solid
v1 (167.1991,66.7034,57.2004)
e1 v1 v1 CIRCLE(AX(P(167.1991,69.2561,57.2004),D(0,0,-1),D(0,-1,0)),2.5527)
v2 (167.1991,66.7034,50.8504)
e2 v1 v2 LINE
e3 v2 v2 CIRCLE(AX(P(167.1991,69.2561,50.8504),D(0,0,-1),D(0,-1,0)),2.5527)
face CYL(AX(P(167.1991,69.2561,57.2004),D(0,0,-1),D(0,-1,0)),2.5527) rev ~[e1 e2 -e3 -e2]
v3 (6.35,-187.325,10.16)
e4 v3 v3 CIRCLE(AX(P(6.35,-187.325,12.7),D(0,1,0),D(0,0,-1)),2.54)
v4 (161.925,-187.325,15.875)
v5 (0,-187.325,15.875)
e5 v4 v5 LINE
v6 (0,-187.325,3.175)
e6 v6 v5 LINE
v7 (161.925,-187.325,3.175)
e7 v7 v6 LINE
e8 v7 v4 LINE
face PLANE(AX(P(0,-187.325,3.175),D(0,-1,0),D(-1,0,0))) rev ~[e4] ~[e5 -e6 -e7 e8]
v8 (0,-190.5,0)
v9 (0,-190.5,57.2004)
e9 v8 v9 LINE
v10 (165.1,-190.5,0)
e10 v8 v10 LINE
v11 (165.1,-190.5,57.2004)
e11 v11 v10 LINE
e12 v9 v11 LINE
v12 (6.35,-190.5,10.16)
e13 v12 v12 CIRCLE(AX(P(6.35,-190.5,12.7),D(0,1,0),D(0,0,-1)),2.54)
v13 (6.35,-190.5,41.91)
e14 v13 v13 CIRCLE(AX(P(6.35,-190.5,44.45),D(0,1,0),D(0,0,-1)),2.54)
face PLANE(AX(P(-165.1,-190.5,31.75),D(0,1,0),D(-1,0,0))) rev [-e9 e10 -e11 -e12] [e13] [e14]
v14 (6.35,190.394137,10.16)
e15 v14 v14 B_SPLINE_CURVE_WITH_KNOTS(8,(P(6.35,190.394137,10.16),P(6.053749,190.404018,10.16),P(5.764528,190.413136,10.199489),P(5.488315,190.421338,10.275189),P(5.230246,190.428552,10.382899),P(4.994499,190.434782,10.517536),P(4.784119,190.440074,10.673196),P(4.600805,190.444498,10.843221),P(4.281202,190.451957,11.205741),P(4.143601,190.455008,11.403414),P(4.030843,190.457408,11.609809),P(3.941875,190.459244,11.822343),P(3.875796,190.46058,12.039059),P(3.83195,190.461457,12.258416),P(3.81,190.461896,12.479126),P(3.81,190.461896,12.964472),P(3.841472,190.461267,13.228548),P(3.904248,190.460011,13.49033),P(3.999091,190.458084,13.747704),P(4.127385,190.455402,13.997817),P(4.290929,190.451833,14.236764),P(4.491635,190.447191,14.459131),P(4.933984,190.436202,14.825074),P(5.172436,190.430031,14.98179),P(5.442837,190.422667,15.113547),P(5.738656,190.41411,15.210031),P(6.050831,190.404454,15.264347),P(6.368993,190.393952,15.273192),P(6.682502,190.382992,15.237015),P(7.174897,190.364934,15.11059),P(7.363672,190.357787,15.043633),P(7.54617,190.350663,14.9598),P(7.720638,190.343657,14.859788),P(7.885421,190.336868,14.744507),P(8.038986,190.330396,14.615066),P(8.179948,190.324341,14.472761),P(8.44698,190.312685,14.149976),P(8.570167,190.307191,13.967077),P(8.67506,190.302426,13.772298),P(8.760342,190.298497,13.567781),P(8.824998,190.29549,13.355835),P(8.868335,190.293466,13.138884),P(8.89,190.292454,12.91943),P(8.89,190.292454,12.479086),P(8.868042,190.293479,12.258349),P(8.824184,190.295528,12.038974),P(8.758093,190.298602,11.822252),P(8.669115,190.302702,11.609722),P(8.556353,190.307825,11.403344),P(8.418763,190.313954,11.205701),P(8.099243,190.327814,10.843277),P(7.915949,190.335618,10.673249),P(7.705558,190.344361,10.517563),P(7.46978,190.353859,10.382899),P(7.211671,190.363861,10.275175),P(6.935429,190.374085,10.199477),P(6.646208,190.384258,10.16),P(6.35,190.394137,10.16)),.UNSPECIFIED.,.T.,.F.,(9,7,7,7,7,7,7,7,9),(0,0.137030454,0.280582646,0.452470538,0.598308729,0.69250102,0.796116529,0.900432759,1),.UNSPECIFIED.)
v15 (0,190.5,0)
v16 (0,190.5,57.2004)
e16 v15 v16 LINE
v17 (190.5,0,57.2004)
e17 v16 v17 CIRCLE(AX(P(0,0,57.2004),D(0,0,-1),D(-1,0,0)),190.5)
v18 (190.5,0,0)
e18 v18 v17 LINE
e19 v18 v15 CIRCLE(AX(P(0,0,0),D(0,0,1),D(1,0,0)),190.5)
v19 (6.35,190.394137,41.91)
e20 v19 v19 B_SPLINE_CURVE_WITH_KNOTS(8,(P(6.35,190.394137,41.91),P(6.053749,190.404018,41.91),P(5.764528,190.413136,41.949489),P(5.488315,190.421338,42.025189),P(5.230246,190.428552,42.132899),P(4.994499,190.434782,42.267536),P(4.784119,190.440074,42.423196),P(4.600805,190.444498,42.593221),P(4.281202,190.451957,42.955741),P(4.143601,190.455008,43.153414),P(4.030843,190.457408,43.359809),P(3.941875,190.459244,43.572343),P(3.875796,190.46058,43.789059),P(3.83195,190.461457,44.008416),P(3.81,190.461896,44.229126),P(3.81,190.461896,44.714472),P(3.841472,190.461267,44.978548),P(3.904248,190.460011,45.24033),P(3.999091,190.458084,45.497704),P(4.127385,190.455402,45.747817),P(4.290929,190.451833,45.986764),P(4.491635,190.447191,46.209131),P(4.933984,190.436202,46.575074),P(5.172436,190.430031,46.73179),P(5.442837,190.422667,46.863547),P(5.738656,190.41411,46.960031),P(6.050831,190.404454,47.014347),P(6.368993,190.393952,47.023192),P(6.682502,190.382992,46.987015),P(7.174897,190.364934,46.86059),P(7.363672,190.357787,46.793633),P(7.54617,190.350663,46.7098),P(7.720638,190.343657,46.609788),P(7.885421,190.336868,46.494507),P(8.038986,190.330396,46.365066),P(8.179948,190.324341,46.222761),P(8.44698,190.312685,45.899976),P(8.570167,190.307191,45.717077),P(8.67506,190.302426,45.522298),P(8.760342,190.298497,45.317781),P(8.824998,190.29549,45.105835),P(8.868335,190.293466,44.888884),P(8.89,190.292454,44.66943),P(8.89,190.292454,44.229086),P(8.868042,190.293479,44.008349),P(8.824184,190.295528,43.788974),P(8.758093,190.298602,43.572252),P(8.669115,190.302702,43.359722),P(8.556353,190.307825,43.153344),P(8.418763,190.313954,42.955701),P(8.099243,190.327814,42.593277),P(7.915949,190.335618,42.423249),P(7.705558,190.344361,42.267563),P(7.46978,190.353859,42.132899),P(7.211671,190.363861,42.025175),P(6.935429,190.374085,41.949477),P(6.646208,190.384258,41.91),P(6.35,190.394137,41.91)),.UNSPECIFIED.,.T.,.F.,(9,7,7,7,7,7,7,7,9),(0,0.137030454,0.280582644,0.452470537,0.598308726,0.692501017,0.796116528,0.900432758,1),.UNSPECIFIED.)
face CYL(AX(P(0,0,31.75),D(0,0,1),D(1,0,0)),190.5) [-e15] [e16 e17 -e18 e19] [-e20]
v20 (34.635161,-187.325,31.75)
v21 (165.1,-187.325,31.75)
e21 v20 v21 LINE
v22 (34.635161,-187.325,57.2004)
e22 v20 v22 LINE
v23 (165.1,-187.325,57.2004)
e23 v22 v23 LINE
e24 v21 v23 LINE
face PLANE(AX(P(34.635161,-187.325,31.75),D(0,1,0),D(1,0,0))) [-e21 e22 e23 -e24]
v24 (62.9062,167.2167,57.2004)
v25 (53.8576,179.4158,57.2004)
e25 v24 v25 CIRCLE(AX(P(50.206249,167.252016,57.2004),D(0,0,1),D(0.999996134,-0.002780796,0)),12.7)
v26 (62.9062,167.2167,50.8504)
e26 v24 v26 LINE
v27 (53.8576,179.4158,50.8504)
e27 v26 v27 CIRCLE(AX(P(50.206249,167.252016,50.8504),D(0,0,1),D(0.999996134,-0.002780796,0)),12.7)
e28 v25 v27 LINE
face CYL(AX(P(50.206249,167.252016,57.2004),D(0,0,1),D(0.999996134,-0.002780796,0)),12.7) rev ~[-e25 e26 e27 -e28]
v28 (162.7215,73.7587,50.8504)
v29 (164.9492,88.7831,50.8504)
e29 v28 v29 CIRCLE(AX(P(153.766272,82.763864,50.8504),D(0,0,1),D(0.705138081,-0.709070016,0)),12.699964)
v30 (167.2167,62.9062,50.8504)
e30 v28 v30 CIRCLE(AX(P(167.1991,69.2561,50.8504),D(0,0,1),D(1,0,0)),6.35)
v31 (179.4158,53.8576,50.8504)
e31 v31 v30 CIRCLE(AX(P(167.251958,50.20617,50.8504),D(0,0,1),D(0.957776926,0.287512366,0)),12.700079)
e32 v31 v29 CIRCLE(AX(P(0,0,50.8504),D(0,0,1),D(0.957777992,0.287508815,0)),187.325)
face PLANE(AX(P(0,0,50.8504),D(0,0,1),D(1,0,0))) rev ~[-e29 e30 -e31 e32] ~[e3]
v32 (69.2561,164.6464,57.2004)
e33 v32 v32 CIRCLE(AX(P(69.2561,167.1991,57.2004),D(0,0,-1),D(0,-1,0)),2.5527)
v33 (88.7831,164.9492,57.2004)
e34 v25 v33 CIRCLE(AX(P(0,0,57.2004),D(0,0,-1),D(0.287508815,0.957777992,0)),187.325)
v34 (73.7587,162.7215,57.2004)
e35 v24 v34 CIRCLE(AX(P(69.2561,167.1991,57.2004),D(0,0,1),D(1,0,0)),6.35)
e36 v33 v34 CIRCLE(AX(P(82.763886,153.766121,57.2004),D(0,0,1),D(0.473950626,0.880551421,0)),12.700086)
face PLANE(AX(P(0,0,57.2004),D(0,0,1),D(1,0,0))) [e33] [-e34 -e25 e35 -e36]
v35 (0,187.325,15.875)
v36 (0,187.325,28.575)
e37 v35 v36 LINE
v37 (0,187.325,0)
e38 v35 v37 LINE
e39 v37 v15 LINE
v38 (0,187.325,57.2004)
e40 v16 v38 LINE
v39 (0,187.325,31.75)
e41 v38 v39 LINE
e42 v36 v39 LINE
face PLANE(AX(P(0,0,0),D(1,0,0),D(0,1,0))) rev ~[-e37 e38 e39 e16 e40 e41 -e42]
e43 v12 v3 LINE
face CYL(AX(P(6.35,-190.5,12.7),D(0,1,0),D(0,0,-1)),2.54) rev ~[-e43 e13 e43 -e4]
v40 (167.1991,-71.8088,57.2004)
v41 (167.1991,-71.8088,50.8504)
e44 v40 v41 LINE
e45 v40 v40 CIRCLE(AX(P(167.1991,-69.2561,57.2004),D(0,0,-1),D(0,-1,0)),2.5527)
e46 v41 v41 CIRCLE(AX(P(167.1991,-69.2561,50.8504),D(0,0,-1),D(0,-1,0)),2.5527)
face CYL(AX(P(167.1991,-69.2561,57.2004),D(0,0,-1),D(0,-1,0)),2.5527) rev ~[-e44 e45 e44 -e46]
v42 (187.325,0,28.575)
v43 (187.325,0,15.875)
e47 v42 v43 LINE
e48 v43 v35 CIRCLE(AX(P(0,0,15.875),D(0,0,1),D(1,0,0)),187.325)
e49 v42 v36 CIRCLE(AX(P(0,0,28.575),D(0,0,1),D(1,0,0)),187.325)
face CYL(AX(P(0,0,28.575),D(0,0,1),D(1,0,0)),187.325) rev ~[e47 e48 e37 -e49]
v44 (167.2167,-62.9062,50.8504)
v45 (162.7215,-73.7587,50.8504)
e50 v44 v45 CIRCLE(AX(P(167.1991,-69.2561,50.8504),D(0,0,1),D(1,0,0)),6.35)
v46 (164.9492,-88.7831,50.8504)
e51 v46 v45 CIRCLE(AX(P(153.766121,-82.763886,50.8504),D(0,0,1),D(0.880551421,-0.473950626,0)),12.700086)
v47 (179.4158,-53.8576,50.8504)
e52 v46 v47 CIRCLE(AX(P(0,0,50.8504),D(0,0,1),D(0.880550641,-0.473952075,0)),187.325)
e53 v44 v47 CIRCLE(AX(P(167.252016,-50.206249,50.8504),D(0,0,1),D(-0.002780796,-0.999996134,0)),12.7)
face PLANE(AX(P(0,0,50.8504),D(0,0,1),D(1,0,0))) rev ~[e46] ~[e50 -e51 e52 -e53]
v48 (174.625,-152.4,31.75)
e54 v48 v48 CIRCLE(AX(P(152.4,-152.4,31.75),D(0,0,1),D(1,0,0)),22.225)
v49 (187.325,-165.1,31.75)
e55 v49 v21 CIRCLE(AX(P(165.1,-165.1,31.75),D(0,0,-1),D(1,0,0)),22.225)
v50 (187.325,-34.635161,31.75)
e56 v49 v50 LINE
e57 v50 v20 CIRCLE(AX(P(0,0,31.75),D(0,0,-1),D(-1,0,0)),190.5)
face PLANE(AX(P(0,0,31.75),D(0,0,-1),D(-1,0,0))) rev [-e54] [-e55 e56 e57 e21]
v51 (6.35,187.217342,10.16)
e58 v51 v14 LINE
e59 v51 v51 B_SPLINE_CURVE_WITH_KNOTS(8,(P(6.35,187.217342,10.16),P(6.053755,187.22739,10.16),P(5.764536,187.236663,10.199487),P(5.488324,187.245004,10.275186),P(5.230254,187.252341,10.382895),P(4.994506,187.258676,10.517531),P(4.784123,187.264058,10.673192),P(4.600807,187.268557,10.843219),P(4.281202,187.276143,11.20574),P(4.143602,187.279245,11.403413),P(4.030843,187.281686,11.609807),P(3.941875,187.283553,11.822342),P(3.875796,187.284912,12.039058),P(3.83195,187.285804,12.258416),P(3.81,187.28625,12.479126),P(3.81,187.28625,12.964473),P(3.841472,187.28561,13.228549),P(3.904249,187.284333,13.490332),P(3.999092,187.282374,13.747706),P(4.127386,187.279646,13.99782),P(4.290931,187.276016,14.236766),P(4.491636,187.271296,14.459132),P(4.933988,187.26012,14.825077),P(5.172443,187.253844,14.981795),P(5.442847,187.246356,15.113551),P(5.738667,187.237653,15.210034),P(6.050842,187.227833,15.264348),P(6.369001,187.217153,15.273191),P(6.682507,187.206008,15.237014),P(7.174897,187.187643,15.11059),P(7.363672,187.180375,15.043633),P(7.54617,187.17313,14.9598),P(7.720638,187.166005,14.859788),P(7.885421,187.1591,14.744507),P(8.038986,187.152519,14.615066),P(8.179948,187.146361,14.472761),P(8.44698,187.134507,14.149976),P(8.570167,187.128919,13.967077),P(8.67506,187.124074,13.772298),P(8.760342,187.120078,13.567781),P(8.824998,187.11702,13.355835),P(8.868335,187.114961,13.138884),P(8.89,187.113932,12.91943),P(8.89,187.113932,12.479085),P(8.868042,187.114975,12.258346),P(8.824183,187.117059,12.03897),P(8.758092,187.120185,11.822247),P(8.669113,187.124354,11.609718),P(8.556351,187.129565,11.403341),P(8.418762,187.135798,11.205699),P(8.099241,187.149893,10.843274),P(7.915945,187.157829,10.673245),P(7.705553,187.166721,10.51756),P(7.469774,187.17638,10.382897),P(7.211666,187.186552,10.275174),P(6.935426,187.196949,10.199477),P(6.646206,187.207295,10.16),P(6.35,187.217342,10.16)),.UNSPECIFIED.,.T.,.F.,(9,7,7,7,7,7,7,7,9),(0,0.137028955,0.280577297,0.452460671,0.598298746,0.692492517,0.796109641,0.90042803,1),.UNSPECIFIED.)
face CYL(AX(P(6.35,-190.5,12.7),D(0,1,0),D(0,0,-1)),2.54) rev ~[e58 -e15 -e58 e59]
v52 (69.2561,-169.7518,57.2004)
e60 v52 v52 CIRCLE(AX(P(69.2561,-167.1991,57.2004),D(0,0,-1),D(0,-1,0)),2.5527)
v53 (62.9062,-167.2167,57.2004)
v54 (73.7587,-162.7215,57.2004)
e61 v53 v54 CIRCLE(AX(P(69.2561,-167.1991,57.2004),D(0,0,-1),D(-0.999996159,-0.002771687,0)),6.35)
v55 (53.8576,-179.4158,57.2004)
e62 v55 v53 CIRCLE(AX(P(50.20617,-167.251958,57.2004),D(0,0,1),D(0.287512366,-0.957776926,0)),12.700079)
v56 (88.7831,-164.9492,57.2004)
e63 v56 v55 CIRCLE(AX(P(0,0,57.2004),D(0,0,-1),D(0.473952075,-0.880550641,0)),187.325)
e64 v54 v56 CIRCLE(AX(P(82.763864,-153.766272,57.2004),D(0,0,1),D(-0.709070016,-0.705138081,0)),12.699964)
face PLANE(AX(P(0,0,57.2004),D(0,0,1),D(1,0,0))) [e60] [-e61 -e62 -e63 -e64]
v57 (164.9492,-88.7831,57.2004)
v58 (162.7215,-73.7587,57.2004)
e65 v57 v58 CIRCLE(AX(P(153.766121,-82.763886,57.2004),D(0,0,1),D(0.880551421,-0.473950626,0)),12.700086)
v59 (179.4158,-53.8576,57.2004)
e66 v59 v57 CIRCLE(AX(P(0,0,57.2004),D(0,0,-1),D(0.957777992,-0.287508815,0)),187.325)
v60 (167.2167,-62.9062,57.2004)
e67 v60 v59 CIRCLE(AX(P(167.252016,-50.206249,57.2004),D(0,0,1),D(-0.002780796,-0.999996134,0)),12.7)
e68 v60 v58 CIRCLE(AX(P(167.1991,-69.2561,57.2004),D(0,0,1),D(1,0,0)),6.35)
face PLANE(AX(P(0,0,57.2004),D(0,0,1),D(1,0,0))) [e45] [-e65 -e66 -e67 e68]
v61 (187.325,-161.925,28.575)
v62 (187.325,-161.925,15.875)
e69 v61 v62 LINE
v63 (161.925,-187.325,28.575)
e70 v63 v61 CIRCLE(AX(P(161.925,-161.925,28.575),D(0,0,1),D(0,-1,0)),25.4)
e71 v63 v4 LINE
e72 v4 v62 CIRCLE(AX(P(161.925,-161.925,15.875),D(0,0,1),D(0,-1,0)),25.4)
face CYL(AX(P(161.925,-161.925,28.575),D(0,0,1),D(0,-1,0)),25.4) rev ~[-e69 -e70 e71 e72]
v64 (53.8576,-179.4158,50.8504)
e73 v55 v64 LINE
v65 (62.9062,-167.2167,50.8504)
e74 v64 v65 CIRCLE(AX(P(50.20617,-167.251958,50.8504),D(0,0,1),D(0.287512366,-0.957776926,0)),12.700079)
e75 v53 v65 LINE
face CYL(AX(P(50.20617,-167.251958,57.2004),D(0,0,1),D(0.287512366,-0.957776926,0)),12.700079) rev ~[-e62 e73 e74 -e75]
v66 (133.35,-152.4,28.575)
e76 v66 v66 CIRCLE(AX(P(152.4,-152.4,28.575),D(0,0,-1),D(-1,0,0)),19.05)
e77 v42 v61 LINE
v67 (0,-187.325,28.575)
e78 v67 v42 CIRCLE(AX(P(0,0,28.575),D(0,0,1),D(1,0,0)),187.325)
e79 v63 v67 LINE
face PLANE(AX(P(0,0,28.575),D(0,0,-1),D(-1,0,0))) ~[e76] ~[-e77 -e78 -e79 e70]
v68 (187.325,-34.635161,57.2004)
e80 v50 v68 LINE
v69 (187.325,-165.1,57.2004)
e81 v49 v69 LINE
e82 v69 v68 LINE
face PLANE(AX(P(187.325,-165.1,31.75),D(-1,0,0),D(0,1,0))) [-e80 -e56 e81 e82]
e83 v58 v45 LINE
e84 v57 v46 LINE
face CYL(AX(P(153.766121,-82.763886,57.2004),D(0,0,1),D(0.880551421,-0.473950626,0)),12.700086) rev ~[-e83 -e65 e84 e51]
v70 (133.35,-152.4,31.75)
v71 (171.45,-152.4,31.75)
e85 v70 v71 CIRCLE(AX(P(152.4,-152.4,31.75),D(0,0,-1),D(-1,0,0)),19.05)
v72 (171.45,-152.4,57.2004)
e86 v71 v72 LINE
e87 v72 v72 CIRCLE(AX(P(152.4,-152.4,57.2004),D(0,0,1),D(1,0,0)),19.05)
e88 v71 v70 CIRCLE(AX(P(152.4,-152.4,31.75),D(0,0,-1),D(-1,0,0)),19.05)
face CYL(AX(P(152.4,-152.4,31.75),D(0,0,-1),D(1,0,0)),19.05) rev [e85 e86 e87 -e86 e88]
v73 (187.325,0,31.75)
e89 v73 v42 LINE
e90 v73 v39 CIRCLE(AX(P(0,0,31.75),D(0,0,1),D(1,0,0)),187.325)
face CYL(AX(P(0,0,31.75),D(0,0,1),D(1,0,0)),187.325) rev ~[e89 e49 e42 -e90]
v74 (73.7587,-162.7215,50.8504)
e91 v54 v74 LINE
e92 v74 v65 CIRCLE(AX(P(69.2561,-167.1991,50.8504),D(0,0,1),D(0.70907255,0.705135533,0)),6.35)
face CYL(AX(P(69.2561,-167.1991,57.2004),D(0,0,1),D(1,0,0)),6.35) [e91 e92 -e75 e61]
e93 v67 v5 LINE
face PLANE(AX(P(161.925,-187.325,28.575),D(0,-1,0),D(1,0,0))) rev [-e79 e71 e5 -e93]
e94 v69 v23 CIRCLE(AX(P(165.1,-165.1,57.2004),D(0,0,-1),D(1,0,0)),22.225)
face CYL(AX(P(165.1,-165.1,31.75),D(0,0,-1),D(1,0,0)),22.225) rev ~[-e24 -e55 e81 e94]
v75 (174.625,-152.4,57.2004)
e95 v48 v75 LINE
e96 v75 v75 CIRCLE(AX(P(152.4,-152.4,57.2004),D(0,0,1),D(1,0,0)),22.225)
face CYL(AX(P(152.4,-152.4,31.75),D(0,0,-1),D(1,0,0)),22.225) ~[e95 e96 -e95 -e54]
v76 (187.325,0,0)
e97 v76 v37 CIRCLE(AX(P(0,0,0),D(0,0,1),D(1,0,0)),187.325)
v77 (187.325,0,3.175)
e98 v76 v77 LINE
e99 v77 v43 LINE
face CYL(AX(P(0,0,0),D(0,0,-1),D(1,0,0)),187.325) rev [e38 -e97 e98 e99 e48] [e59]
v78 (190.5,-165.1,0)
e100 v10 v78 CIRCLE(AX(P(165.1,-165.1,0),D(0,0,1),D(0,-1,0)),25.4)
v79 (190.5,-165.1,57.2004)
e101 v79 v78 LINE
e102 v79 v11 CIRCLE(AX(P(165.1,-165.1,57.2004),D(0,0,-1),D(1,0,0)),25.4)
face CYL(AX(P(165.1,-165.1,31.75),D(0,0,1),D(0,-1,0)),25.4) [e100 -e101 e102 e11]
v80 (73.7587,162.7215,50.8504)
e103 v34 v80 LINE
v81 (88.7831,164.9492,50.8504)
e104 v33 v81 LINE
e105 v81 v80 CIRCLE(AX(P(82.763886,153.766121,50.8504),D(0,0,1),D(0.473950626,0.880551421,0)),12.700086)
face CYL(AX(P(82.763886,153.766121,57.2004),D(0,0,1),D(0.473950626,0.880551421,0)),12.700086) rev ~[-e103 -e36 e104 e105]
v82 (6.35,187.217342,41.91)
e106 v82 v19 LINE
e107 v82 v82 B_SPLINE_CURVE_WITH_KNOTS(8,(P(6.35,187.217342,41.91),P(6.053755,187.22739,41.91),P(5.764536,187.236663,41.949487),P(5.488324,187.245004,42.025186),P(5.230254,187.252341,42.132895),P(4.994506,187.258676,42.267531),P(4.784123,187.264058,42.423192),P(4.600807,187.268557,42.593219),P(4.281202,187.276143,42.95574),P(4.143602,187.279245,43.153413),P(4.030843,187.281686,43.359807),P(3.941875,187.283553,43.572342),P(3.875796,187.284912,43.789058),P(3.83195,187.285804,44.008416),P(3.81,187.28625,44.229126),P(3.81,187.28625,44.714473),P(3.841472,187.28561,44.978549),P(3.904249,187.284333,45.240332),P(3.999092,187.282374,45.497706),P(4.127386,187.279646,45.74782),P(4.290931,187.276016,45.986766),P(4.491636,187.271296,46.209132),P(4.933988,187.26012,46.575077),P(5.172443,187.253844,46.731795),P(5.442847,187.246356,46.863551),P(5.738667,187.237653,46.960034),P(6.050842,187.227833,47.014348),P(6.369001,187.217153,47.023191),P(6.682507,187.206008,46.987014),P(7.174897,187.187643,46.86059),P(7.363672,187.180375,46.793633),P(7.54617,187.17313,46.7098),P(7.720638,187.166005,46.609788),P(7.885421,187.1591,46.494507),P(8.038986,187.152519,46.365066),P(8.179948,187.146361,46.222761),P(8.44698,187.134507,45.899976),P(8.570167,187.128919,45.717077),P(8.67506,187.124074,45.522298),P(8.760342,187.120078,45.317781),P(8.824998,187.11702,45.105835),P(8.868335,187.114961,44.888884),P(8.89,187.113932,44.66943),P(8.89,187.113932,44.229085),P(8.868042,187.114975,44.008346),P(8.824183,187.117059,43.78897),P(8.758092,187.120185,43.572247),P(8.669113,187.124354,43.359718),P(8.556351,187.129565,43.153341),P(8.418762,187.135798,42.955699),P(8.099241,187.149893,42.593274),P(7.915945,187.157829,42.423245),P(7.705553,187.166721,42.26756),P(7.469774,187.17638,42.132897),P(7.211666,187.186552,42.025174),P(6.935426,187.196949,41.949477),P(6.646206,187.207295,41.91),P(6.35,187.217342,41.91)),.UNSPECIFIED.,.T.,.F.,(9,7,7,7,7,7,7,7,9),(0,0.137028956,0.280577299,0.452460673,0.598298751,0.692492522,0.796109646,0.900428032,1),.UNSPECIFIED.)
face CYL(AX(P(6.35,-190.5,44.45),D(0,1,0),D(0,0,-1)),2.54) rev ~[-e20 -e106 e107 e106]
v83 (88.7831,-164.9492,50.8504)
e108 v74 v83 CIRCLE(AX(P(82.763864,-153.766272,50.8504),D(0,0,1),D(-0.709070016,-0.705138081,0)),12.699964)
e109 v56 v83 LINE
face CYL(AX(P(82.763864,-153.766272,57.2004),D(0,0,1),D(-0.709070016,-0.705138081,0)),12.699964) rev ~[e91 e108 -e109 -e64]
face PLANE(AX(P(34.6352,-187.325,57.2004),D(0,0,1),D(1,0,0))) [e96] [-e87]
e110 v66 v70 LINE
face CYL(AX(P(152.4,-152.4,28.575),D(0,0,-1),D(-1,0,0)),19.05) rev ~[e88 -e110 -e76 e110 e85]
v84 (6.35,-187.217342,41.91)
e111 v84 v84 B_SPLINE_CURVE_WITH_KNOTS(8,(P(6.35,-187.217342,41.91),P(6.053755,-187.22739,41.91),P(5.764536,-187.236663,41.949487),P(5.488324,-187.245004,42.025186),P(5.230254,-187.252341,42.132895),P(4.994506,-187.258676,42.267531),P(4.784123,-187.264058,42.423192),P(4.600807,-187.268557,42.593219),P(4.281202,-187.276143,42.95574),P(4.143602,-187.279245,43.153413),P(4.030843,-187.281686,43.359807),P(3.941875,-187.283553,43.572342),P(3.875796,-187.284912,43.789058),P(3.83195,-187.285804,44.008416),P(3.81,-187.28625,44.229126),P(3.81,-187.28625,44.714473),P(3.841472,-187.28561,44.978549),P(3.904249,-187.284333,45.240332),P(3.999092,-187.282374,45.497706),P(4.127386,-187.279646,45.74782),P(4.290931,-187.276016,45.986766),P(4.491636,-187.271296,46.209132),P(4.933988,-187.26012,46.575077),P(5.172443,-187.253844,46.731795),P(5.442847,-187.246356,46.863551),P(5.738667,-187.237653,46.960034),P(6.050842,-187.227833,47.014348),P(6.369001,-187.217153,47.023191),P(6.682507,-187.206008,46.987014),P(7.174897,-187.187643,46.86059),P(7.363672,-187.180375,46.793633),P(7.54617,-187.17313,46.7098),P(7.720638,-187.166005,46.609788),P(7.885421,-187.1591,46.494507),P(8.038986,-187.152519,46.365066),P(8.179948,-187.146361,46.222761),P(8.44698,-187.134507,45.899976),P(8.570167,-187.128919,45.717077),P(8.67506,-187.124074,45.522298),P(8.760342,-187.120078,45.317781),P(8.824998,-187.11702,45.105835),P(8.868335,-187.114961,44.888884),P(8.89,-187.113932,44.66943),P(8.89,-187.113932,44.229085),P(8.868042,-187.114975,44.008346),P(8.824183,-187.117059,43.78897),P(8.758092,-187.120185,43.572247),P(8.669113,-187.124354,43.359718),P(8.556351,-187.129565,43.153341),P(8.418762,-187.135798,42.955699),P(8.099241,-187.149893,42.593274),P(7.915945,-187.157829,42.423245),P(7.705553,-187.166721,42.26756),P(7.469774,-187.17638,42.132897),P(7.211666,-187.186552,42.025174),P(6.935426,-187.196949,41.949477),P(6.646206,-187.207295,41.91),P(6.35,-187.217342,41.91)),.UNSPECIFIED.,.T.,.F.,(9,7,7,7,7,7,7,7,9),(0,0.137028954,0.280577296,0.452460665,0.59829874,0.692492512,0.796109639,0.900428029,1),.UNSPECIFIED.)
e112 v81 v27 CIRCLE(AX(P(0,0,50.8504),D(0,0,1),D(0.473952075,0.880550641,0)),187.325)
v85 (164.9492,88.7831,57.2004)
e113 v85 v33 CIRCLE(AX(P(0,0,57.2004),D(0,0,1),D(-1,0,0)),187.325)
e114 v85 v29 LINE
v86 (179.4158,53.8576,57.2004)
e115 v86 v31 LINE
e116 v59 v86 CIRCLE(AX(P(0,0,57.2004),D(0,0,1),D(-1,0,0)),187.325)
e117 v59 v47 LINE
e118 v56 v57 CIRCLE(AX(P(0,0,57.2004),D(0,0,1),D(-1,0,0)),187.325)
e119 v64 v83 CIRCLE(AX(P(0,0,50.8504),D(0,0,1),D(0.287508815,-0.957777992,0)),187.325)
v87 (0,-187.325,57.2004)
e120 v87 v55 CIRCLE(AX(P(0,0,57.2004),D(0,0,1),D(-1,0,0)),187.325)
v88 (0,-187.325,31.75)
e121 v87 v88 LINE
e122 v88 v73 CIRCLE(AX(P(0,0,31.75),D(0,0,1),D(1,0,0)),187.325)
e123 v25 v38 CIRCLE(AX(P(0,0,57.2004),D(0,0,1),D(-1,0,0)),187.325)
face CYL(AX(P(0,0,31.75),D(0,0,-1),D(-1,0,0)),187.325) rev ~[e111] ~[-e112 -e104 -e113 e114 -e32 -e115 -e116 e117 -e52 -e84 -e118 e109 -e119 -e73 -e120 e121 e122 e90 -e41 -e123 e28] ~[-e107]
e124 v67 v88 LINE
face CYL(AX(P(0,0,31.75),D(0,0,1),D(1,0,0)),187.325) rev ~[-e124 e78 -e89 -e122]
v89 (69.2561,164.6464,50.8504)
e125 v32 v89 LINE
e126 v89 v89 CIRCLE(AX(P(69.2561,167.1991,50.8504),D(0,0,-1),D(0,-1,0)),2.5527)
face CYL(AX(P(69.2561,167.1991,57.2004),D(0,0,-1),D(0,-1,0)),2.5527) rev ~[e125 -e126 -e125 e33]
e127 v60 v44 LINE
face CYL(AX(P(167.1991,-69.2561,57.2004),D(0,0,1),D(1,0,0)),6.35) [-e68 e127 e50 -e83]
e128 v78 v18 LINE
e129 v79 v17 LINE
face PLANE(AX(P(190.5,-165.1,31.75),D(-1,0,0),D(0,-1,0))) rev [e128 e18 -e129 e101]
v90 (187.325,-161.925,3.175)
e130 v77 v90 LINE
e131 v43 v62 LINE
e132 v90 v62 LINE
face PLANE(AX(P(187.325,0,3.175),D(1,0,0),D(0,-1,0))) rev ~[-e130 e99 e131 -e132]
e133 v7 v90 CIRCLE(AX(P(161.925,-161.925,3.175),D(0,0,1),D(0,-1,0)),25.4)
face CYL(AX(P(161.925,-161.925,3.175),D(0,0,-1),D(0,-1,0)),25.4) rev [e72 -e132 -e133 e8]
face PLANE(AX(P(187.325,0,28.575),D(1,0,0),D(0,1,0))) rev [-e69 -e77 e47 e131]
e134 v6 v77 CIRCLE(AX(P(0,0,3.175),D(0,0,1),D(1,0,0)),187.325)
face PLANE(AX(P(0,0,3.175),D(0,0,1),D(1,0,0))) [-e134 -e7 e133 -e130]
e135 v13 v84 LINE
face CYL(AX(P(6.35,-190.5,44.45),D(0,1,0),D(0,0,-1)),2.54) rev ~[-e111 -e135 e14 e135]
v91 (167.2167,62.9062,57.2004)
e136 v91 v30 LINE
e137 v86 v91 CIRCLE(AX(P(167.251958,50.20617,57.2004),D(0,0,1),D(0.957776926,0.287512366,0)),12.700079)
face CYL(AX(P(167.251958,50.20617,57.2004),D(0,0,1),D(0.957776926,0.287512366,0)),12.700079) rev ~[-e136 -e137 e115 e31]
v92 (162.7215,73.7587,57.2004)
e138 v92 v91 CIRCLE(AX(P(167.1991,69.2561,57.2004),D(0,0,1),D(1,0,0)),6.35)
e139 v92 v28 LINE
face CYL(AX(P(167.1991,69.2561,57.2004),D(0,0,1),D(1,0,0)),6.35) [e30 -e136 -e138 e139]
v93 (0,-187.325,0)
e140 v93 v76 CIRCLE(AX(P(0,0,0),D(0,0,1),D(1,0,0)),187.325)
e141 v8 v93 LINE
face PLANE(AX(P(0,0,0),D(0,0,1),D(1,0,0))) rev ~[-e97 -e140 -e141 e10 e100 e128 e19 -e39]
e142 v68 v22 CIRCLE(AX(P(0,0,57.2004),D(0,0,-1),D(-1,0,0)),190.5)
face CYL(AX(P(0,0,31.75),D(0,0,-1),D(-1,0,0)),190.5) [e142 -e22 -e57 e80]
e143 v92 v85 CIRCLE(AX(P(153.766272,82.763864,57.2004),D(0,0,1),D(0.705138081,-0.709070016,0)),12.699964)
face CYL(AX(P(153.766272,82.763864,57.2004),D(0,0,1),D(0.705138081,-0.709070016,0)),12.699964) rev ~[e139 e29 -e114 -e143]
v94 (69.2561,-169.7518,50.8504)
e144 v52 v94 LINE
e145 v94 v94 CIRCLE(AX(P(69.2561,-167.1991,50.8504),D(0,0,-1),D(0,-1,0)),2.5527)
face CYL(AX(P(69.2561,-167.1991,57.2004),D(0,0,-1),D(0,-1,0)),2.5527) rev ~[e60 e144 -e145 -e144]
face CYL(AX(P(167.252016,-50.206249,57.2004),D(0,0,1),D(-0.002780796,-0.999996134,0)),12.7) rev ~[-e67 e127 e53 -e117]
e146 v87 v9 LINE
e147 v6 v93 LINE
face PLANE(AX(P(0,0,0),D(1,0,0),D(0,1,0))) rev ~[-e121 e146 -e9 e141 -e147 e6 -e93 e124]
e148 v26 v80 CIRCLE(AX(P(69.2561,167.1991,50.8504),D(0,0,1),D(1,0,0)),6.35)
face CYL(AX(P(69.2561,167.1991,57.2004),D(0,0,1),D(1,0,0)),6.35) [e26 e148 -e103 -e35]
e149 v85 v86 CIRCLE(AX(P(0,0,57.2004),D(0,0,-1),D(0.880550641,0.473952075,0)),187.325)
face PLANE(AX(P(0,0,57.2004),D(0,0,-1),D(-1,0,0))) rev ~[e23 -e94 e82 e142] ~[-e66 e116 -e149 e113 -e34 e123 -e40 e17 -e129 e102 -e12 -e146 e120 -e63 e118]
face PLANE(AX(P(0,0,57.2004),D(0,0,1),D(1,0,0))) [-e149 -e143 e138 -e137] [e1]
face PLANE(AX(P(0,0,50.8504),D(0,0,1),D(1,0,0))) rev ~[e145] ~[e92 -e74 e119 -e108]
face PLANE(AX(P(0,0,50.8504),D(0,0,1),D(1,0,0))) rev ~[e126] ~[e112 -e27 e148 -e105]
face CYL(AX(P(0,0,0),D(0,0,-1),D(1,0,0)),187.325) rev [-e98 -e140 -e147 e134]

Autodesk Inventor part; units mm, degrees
ref_plane "YZ Plane" through (0, 0, 0) normal (1, 0, 0) x (0, 1, 0)
ref_plane "XZ Plane" through (0, 0, 0) normal (0, 1, 0) x (-1, 0, 0)
ref_plane "XY Plane" through (0, 0, 0) normal (0, 0, 1) x (1, 0, 0)
sketch "Sketch1" plane through (0, 0, 0) normal (0, 0, 1) x (1, 0, 0)
  arc A0 (190.5, 0) -> (-190.5, 0) centre (0, 0) ccw
  circle A1 centre (0, 0) radius 187.325
  line L0 (-190.5, 0) -> (-190.5, -165.1)
  line L1 (-165.1, -190.5) -> (165.1, -190.5)
  line L2 (190.5, -165.1) -> (190.5, 0)
  arc A2 (-190.5, -165.1) -> (-165.1, -190.5) centre (-165.1, -165.1) ccw
  arc A3 (165.1, -190.5) -> (190.5, -165.1) centre (165.1, -165.1) ccw
  dimension "d0" = 381
  dimension "d1" = 3.175
  dimension "d2" = 25.4
extrude "Extrusion1" add sketch "Sketch1" along normal blind 3.175
sketch "Sketch2" plane through (0, 0, 3.175) normal (0, 0, 1) x (1, 0, 0)
  line L0 (-190.5, 0) -> (-190.5, -165.1) projected
  arc A0 (-190.5, -165.1) -> (-165.1, -190.5) centre (-165.1, -165.1) ccw projected
  line L1 (-165.1, -190.5) -> (165.1, -190.5) projected
  arc A1 (165.1, -190.5) -> (190.5, -165.1) centre (165.1, -165.1) ccw projected
  line L2 (190.5, -165.1) -> (190.5, 0) projected
  arc A2 (190.5, 0) -> (-190.5, 0) centre (0, 0) ccw projected
  circle A3 centre (0, 0) radius 187.325 projected
  line L3 (-187.325, 0) -> (-187.325, -161.925)
  line L4 (187.325, 0) -> (187.325, -161.925)
  line L5 (161.925, -187.325) -> (-161.925, -187.325)
  circle A4 centre (0, 0) radius 187.325 projected
  arc A5 (-187.325, -161.925) -> (-161.925, -187.325) centre (-161.925, -161.925) ccw
  arc A6 (161.925, -187.325) -> (187.325, -161.925) centre (161.925, -161.925) ccw
  dimension "d5" = 25.4
extrude "Extrusion2" add sketch "Sketch2" along normal blind 12.7
mirror "Mirror1" about plane through (0, 0, 15.875) normal (0, 0, 1) of "Extrusion1", "Extrusion2"
sketch "Sketch3" plane through (0, 0, 31.75) normal (0, 0, 1) x (1, 0, 0)
  point P0 (0, 0)
sketch "Sketch4" plane through (0, 0, 31.75) normal (0, 0, -1) x (-1, 0, 0)
  line L0 (190.5, 0) -> (190.5, -165.1) projected
  arc A0 (190.5, 0) -> (-190.5, 0) centre (0, 0) ccw projected
  line L1 (-190.5, -165.1) -> (-190.5, 0) projected
  arc A1 (-190.5, -165.1) -> (-165.1, -190.5) centre (-165.1, -165.1) ccw projected
  line L2 (165.1, -190.5) -> (-165.1, -190.5) projected
  arc A2 (165.1, -190.5) -> (190.5, -165.1) centre (165.1, -165.1) ccw projected
  circle A3 centre (0, 0) radius 187.325 projected
  arc A4 (-187.325, -165.1) -> (-165.1, -187.325) centre (-165.1, -165.1) ccw
  line L3 (-187.325, -165.1) -> (-187.325, 0)
  arc A5 (187.325, 0) -> (-187.325, 0) centre (0, 0) ccw
  line L4 (187.325, 0) -> (187.325, -165.1)
  arc A6 (165.1, -187.325) -> (187.325, -165.1) centre (165.1, -165.1) ccw
  line L5 (165.1, -187.325) -> (-165.1, -187.325)
  circle A7 centre (0, 0) radius 190.5
  point P0 (-34.6352, -187.325)
  point P1 (-187.325, -34.6352)
  point P2 (34.6352, -187.325)
  point P3 (187.325, -34.6352)
  dimension "d8" = 3.175
  dimension "d9" = 3.175
extrude "Extrusion3" add sketch "Sketch4" against normal blind 25.4504 contours A7 L4 A3 L3 A0 | L0 A2 L2 A7 L5 A6 L4 | A7 L3 A4 L5 L2 A1 L1 | A7 L5 A3 L4 | L3 A3 L5 A7 | A7 L5
sketch "Sketch5" plane through (161.925, -187.325, 28.575) normal (0, 0, -1) x (-1, 0, 0)
  circle A0 centre (9.525, 34.925) radius 19.05
  point P0 (161.925, 187.325)
  dimension "d12" = 38.1
  dimension "d13" = 152.4
  dimension "d14" = 152.4
extrude "Extrusion4" cut sketch "Sketch5" against normal through all
sketch "Sketch6" plane through (34.6352, -187.325, 31.75) normal (0, 0, 1) x (1, 0, 0)
  circle A0 centre (117.7648, 34.925) radius 19.05 projected
  circle A1 centre (117.7648, 34.925) radius 19.05
  circle A2 centre (117.7648, 34.925) radius 22.225
  point P0 (-34.6352, 187.325)
  dimension "d17" = 3.175
extrude "Extrusion5" add sketch "Sketch6" along normal up to surface (25.4504 mm away)
sketch "Sketch7" plane through (0, 0, 0) normal (1, 0, 0) x (0, 1, 0)
  line L0 (-211.2628, -72.6551) -> (211.2628, -72.6551)
  line L1 (211.2628, -72.6551) -> (211.2628, 72.6551)
  line L2 (211.2628, 72.6551) -> (-211.2628, 72.6551)
  line L3 (-211.2628, 72.6551) -> (-211.2628, -72.6551)
  line L4 (-211.2628, -72.6551) -> (211.2628, 72.6551) construction
  line L5 (211.2628, -72.6551) -> (-211.2628, 72.6551) construction
  point P0 (0, 0)
extrude "Extrusion6" cut sketch "Sketch7" against normal through all
sketch "Sketch8" plane through (165.1, -190.5, 0) normal (0, -1, 0) x (1, 0, 0)
  line L0 (-165.1, 0) -> (0, 0) projected
  line L1 (-165.1, 57.2004) -> (-165.1, 0) projected
  point P0 (-158.75, 12.7)
  point P1 (-158.75, 44.45)
  dimension "d22" = 12.7
  dimension "d23" = 31.75
  dimension "d24" = 6.35
hole "Hole1" at (6.35, -190.5, 44.45) at (6.35, -190.5, 12.7) direction (0, 1, 0) diameter 5.08 end through all
sketch "Sketch9" plane through (0, 0, 57.2004) normal (0, 0, 1) x (1, 0, 0)
  arc A0 (0, -187.325) -> (187.325, 0) centre (0, 0) ccw projected
  line L0 (69.2561, -167.1991) -> (0, 0) construction
  line L1 (-45.2243, 0) -> (271.3455, 0) projected
  line L2 (0, 0) -> (0, -221.1499)
  circle A1 centre (69.2561, -167.1991) radius 6.35
  arc A2 (73.7587, -162.7215) -> (66.8261, -161.3325) centre (69.2561, -167.1991) ccw
  arc A3 (66.8261, -161.3325) -> (62.9062, -167.2167) centre (69.2561, -167.1991) ccw
  arc A4 (73.7587, -162.7215) -> (88.7831, -164.9492) centre (82.7639, -153.7662) ccw
  arc A5 (53.8576, -179.4158) -> (62.9062, -167.2167) centre (50.2062, -167.252) ccw
  arc A6 (0, -187.325) -> (0, 187.325) centre (0, 0) ccw projected
  circle A7 centre (167.1991, -69.2561) radius 6.35
  arc A8 (164.9492, -88.7831) -> (162.7215, -73.7587) centre (153.7662, -82.7639) ccw
  arc A9 (167.2167, -62.9062) -> (179.4158, -53.8576) centre (167.252, -50.2062) ccw
  circle A10 centre (167.1991, 69.2561) radius 6.35
  arc A11 (179.4158, 53.8576) -> (167.2167, 62.9062) centre (167.252, 50.2062) ccw
  arc A12 (162.7215, 73.7587) -> (164.9492, 88.7831) centre (153.7662, 82.7639) ccw
  circle A13 centre (69.2561, 167.1991) radius 6.35
  arc A14 (88.7831, 164.9492) -> (73.7587, 162.7215) centre (82.7639, 153.7662) ccw
  arc A15 (62.9062, 167.2167) -> (53.8576, 179.4158) centre (50.2062, 167.252) ccw
  circle A16 centre (-69.2561, 167.1991) radius 6.35
  arc A17 (-53.8576, 179.4158) -> (-62.9062, 167.2167) centre (-50.2062, 167.252) ccw
  arc A18 (-73.7587, 162.7215) -> (-88.7831, 164.9492) centre (-82.7639, 153.7662) ccw
  circle A19 centre (-167.1991, 69.2561) radius 6.35
  arc A20 (-164.9492, 88.7831) -> (-162.7215, 73.7587) centre (-153.7662, 82.7639) ccw
  arc A21 (-167.2167, 62.9062) -> (-179.4158, 53.8576) centre (-167.252, 50.2062) ccw
  circle A22 centre (-167.1991, -69.2561) radius 6.35
  arc A23 (-179.4158, -53.8576) -> (-167.2167, -62.9062) centre (-167.252, -50.2062) ccw
  arc A24 (-162.7215, -73.7587) -> (-164.9492, -88.7831) centre (-153.7662, -82.7639) ccw
  circle A25 centre (-69.2561, -167.1991) radius 6.35
  arc A26 (-88.7831, -164.9492) -> (-73.7587, -162.7215) centre (-82.7639, -153.7662) ccw
  arc A27 (-62.9062, -167.2167) -> (-53.8576, -179.4158) centre (-50.2062, -167.252) ccw
  point P0 (161.3325, -66.8261)
  point P1 (161.3325, 66.8261)
  point P2 (66.8261, 161.3325)
  point P3 (-66.8261, 161.3325)
  point P4 (-161.3325, 66.8261)
  point P5 (-161.3325, -66.8261)
  point P6 (-66.8261, -161.3325)
  point P7 (179.4158, -53.8576)
  dimension "d32" = 180.975
  dimension "d38" = 12.7
  dimension "d39" = 67.5
  dimension "d40" = 12.7
  dimension "d43" = 360
extrude "Extrusion7" add sketch "Sketch9" against normal blind 6.35 contours A14 A13 A6 | A11 A10 A6 | A5 A1 A0 | A1 A4 A0 | A1 | A0 A7 A9 | A8 A7 A0 | A7 | A10 A12 A6 | A10 | A13 A15 A6 | A13
hole "Hole2" at (69.2561, -167.1991, 57.2004) at (167.1991, 69.2561, 57.2004) at (69.2561, 167.1991, 57.2004) at (167.1991, -69.2561, 57.2004) direction (0, 0, -1) diameter 5.1054 end through all clearance for "Flat Head Machine Screw (82)" size "#10" standard "Ansi Unified Screw Threads"
properties part number "3DPRINT,CABLE-SHROUD,OUTER"
